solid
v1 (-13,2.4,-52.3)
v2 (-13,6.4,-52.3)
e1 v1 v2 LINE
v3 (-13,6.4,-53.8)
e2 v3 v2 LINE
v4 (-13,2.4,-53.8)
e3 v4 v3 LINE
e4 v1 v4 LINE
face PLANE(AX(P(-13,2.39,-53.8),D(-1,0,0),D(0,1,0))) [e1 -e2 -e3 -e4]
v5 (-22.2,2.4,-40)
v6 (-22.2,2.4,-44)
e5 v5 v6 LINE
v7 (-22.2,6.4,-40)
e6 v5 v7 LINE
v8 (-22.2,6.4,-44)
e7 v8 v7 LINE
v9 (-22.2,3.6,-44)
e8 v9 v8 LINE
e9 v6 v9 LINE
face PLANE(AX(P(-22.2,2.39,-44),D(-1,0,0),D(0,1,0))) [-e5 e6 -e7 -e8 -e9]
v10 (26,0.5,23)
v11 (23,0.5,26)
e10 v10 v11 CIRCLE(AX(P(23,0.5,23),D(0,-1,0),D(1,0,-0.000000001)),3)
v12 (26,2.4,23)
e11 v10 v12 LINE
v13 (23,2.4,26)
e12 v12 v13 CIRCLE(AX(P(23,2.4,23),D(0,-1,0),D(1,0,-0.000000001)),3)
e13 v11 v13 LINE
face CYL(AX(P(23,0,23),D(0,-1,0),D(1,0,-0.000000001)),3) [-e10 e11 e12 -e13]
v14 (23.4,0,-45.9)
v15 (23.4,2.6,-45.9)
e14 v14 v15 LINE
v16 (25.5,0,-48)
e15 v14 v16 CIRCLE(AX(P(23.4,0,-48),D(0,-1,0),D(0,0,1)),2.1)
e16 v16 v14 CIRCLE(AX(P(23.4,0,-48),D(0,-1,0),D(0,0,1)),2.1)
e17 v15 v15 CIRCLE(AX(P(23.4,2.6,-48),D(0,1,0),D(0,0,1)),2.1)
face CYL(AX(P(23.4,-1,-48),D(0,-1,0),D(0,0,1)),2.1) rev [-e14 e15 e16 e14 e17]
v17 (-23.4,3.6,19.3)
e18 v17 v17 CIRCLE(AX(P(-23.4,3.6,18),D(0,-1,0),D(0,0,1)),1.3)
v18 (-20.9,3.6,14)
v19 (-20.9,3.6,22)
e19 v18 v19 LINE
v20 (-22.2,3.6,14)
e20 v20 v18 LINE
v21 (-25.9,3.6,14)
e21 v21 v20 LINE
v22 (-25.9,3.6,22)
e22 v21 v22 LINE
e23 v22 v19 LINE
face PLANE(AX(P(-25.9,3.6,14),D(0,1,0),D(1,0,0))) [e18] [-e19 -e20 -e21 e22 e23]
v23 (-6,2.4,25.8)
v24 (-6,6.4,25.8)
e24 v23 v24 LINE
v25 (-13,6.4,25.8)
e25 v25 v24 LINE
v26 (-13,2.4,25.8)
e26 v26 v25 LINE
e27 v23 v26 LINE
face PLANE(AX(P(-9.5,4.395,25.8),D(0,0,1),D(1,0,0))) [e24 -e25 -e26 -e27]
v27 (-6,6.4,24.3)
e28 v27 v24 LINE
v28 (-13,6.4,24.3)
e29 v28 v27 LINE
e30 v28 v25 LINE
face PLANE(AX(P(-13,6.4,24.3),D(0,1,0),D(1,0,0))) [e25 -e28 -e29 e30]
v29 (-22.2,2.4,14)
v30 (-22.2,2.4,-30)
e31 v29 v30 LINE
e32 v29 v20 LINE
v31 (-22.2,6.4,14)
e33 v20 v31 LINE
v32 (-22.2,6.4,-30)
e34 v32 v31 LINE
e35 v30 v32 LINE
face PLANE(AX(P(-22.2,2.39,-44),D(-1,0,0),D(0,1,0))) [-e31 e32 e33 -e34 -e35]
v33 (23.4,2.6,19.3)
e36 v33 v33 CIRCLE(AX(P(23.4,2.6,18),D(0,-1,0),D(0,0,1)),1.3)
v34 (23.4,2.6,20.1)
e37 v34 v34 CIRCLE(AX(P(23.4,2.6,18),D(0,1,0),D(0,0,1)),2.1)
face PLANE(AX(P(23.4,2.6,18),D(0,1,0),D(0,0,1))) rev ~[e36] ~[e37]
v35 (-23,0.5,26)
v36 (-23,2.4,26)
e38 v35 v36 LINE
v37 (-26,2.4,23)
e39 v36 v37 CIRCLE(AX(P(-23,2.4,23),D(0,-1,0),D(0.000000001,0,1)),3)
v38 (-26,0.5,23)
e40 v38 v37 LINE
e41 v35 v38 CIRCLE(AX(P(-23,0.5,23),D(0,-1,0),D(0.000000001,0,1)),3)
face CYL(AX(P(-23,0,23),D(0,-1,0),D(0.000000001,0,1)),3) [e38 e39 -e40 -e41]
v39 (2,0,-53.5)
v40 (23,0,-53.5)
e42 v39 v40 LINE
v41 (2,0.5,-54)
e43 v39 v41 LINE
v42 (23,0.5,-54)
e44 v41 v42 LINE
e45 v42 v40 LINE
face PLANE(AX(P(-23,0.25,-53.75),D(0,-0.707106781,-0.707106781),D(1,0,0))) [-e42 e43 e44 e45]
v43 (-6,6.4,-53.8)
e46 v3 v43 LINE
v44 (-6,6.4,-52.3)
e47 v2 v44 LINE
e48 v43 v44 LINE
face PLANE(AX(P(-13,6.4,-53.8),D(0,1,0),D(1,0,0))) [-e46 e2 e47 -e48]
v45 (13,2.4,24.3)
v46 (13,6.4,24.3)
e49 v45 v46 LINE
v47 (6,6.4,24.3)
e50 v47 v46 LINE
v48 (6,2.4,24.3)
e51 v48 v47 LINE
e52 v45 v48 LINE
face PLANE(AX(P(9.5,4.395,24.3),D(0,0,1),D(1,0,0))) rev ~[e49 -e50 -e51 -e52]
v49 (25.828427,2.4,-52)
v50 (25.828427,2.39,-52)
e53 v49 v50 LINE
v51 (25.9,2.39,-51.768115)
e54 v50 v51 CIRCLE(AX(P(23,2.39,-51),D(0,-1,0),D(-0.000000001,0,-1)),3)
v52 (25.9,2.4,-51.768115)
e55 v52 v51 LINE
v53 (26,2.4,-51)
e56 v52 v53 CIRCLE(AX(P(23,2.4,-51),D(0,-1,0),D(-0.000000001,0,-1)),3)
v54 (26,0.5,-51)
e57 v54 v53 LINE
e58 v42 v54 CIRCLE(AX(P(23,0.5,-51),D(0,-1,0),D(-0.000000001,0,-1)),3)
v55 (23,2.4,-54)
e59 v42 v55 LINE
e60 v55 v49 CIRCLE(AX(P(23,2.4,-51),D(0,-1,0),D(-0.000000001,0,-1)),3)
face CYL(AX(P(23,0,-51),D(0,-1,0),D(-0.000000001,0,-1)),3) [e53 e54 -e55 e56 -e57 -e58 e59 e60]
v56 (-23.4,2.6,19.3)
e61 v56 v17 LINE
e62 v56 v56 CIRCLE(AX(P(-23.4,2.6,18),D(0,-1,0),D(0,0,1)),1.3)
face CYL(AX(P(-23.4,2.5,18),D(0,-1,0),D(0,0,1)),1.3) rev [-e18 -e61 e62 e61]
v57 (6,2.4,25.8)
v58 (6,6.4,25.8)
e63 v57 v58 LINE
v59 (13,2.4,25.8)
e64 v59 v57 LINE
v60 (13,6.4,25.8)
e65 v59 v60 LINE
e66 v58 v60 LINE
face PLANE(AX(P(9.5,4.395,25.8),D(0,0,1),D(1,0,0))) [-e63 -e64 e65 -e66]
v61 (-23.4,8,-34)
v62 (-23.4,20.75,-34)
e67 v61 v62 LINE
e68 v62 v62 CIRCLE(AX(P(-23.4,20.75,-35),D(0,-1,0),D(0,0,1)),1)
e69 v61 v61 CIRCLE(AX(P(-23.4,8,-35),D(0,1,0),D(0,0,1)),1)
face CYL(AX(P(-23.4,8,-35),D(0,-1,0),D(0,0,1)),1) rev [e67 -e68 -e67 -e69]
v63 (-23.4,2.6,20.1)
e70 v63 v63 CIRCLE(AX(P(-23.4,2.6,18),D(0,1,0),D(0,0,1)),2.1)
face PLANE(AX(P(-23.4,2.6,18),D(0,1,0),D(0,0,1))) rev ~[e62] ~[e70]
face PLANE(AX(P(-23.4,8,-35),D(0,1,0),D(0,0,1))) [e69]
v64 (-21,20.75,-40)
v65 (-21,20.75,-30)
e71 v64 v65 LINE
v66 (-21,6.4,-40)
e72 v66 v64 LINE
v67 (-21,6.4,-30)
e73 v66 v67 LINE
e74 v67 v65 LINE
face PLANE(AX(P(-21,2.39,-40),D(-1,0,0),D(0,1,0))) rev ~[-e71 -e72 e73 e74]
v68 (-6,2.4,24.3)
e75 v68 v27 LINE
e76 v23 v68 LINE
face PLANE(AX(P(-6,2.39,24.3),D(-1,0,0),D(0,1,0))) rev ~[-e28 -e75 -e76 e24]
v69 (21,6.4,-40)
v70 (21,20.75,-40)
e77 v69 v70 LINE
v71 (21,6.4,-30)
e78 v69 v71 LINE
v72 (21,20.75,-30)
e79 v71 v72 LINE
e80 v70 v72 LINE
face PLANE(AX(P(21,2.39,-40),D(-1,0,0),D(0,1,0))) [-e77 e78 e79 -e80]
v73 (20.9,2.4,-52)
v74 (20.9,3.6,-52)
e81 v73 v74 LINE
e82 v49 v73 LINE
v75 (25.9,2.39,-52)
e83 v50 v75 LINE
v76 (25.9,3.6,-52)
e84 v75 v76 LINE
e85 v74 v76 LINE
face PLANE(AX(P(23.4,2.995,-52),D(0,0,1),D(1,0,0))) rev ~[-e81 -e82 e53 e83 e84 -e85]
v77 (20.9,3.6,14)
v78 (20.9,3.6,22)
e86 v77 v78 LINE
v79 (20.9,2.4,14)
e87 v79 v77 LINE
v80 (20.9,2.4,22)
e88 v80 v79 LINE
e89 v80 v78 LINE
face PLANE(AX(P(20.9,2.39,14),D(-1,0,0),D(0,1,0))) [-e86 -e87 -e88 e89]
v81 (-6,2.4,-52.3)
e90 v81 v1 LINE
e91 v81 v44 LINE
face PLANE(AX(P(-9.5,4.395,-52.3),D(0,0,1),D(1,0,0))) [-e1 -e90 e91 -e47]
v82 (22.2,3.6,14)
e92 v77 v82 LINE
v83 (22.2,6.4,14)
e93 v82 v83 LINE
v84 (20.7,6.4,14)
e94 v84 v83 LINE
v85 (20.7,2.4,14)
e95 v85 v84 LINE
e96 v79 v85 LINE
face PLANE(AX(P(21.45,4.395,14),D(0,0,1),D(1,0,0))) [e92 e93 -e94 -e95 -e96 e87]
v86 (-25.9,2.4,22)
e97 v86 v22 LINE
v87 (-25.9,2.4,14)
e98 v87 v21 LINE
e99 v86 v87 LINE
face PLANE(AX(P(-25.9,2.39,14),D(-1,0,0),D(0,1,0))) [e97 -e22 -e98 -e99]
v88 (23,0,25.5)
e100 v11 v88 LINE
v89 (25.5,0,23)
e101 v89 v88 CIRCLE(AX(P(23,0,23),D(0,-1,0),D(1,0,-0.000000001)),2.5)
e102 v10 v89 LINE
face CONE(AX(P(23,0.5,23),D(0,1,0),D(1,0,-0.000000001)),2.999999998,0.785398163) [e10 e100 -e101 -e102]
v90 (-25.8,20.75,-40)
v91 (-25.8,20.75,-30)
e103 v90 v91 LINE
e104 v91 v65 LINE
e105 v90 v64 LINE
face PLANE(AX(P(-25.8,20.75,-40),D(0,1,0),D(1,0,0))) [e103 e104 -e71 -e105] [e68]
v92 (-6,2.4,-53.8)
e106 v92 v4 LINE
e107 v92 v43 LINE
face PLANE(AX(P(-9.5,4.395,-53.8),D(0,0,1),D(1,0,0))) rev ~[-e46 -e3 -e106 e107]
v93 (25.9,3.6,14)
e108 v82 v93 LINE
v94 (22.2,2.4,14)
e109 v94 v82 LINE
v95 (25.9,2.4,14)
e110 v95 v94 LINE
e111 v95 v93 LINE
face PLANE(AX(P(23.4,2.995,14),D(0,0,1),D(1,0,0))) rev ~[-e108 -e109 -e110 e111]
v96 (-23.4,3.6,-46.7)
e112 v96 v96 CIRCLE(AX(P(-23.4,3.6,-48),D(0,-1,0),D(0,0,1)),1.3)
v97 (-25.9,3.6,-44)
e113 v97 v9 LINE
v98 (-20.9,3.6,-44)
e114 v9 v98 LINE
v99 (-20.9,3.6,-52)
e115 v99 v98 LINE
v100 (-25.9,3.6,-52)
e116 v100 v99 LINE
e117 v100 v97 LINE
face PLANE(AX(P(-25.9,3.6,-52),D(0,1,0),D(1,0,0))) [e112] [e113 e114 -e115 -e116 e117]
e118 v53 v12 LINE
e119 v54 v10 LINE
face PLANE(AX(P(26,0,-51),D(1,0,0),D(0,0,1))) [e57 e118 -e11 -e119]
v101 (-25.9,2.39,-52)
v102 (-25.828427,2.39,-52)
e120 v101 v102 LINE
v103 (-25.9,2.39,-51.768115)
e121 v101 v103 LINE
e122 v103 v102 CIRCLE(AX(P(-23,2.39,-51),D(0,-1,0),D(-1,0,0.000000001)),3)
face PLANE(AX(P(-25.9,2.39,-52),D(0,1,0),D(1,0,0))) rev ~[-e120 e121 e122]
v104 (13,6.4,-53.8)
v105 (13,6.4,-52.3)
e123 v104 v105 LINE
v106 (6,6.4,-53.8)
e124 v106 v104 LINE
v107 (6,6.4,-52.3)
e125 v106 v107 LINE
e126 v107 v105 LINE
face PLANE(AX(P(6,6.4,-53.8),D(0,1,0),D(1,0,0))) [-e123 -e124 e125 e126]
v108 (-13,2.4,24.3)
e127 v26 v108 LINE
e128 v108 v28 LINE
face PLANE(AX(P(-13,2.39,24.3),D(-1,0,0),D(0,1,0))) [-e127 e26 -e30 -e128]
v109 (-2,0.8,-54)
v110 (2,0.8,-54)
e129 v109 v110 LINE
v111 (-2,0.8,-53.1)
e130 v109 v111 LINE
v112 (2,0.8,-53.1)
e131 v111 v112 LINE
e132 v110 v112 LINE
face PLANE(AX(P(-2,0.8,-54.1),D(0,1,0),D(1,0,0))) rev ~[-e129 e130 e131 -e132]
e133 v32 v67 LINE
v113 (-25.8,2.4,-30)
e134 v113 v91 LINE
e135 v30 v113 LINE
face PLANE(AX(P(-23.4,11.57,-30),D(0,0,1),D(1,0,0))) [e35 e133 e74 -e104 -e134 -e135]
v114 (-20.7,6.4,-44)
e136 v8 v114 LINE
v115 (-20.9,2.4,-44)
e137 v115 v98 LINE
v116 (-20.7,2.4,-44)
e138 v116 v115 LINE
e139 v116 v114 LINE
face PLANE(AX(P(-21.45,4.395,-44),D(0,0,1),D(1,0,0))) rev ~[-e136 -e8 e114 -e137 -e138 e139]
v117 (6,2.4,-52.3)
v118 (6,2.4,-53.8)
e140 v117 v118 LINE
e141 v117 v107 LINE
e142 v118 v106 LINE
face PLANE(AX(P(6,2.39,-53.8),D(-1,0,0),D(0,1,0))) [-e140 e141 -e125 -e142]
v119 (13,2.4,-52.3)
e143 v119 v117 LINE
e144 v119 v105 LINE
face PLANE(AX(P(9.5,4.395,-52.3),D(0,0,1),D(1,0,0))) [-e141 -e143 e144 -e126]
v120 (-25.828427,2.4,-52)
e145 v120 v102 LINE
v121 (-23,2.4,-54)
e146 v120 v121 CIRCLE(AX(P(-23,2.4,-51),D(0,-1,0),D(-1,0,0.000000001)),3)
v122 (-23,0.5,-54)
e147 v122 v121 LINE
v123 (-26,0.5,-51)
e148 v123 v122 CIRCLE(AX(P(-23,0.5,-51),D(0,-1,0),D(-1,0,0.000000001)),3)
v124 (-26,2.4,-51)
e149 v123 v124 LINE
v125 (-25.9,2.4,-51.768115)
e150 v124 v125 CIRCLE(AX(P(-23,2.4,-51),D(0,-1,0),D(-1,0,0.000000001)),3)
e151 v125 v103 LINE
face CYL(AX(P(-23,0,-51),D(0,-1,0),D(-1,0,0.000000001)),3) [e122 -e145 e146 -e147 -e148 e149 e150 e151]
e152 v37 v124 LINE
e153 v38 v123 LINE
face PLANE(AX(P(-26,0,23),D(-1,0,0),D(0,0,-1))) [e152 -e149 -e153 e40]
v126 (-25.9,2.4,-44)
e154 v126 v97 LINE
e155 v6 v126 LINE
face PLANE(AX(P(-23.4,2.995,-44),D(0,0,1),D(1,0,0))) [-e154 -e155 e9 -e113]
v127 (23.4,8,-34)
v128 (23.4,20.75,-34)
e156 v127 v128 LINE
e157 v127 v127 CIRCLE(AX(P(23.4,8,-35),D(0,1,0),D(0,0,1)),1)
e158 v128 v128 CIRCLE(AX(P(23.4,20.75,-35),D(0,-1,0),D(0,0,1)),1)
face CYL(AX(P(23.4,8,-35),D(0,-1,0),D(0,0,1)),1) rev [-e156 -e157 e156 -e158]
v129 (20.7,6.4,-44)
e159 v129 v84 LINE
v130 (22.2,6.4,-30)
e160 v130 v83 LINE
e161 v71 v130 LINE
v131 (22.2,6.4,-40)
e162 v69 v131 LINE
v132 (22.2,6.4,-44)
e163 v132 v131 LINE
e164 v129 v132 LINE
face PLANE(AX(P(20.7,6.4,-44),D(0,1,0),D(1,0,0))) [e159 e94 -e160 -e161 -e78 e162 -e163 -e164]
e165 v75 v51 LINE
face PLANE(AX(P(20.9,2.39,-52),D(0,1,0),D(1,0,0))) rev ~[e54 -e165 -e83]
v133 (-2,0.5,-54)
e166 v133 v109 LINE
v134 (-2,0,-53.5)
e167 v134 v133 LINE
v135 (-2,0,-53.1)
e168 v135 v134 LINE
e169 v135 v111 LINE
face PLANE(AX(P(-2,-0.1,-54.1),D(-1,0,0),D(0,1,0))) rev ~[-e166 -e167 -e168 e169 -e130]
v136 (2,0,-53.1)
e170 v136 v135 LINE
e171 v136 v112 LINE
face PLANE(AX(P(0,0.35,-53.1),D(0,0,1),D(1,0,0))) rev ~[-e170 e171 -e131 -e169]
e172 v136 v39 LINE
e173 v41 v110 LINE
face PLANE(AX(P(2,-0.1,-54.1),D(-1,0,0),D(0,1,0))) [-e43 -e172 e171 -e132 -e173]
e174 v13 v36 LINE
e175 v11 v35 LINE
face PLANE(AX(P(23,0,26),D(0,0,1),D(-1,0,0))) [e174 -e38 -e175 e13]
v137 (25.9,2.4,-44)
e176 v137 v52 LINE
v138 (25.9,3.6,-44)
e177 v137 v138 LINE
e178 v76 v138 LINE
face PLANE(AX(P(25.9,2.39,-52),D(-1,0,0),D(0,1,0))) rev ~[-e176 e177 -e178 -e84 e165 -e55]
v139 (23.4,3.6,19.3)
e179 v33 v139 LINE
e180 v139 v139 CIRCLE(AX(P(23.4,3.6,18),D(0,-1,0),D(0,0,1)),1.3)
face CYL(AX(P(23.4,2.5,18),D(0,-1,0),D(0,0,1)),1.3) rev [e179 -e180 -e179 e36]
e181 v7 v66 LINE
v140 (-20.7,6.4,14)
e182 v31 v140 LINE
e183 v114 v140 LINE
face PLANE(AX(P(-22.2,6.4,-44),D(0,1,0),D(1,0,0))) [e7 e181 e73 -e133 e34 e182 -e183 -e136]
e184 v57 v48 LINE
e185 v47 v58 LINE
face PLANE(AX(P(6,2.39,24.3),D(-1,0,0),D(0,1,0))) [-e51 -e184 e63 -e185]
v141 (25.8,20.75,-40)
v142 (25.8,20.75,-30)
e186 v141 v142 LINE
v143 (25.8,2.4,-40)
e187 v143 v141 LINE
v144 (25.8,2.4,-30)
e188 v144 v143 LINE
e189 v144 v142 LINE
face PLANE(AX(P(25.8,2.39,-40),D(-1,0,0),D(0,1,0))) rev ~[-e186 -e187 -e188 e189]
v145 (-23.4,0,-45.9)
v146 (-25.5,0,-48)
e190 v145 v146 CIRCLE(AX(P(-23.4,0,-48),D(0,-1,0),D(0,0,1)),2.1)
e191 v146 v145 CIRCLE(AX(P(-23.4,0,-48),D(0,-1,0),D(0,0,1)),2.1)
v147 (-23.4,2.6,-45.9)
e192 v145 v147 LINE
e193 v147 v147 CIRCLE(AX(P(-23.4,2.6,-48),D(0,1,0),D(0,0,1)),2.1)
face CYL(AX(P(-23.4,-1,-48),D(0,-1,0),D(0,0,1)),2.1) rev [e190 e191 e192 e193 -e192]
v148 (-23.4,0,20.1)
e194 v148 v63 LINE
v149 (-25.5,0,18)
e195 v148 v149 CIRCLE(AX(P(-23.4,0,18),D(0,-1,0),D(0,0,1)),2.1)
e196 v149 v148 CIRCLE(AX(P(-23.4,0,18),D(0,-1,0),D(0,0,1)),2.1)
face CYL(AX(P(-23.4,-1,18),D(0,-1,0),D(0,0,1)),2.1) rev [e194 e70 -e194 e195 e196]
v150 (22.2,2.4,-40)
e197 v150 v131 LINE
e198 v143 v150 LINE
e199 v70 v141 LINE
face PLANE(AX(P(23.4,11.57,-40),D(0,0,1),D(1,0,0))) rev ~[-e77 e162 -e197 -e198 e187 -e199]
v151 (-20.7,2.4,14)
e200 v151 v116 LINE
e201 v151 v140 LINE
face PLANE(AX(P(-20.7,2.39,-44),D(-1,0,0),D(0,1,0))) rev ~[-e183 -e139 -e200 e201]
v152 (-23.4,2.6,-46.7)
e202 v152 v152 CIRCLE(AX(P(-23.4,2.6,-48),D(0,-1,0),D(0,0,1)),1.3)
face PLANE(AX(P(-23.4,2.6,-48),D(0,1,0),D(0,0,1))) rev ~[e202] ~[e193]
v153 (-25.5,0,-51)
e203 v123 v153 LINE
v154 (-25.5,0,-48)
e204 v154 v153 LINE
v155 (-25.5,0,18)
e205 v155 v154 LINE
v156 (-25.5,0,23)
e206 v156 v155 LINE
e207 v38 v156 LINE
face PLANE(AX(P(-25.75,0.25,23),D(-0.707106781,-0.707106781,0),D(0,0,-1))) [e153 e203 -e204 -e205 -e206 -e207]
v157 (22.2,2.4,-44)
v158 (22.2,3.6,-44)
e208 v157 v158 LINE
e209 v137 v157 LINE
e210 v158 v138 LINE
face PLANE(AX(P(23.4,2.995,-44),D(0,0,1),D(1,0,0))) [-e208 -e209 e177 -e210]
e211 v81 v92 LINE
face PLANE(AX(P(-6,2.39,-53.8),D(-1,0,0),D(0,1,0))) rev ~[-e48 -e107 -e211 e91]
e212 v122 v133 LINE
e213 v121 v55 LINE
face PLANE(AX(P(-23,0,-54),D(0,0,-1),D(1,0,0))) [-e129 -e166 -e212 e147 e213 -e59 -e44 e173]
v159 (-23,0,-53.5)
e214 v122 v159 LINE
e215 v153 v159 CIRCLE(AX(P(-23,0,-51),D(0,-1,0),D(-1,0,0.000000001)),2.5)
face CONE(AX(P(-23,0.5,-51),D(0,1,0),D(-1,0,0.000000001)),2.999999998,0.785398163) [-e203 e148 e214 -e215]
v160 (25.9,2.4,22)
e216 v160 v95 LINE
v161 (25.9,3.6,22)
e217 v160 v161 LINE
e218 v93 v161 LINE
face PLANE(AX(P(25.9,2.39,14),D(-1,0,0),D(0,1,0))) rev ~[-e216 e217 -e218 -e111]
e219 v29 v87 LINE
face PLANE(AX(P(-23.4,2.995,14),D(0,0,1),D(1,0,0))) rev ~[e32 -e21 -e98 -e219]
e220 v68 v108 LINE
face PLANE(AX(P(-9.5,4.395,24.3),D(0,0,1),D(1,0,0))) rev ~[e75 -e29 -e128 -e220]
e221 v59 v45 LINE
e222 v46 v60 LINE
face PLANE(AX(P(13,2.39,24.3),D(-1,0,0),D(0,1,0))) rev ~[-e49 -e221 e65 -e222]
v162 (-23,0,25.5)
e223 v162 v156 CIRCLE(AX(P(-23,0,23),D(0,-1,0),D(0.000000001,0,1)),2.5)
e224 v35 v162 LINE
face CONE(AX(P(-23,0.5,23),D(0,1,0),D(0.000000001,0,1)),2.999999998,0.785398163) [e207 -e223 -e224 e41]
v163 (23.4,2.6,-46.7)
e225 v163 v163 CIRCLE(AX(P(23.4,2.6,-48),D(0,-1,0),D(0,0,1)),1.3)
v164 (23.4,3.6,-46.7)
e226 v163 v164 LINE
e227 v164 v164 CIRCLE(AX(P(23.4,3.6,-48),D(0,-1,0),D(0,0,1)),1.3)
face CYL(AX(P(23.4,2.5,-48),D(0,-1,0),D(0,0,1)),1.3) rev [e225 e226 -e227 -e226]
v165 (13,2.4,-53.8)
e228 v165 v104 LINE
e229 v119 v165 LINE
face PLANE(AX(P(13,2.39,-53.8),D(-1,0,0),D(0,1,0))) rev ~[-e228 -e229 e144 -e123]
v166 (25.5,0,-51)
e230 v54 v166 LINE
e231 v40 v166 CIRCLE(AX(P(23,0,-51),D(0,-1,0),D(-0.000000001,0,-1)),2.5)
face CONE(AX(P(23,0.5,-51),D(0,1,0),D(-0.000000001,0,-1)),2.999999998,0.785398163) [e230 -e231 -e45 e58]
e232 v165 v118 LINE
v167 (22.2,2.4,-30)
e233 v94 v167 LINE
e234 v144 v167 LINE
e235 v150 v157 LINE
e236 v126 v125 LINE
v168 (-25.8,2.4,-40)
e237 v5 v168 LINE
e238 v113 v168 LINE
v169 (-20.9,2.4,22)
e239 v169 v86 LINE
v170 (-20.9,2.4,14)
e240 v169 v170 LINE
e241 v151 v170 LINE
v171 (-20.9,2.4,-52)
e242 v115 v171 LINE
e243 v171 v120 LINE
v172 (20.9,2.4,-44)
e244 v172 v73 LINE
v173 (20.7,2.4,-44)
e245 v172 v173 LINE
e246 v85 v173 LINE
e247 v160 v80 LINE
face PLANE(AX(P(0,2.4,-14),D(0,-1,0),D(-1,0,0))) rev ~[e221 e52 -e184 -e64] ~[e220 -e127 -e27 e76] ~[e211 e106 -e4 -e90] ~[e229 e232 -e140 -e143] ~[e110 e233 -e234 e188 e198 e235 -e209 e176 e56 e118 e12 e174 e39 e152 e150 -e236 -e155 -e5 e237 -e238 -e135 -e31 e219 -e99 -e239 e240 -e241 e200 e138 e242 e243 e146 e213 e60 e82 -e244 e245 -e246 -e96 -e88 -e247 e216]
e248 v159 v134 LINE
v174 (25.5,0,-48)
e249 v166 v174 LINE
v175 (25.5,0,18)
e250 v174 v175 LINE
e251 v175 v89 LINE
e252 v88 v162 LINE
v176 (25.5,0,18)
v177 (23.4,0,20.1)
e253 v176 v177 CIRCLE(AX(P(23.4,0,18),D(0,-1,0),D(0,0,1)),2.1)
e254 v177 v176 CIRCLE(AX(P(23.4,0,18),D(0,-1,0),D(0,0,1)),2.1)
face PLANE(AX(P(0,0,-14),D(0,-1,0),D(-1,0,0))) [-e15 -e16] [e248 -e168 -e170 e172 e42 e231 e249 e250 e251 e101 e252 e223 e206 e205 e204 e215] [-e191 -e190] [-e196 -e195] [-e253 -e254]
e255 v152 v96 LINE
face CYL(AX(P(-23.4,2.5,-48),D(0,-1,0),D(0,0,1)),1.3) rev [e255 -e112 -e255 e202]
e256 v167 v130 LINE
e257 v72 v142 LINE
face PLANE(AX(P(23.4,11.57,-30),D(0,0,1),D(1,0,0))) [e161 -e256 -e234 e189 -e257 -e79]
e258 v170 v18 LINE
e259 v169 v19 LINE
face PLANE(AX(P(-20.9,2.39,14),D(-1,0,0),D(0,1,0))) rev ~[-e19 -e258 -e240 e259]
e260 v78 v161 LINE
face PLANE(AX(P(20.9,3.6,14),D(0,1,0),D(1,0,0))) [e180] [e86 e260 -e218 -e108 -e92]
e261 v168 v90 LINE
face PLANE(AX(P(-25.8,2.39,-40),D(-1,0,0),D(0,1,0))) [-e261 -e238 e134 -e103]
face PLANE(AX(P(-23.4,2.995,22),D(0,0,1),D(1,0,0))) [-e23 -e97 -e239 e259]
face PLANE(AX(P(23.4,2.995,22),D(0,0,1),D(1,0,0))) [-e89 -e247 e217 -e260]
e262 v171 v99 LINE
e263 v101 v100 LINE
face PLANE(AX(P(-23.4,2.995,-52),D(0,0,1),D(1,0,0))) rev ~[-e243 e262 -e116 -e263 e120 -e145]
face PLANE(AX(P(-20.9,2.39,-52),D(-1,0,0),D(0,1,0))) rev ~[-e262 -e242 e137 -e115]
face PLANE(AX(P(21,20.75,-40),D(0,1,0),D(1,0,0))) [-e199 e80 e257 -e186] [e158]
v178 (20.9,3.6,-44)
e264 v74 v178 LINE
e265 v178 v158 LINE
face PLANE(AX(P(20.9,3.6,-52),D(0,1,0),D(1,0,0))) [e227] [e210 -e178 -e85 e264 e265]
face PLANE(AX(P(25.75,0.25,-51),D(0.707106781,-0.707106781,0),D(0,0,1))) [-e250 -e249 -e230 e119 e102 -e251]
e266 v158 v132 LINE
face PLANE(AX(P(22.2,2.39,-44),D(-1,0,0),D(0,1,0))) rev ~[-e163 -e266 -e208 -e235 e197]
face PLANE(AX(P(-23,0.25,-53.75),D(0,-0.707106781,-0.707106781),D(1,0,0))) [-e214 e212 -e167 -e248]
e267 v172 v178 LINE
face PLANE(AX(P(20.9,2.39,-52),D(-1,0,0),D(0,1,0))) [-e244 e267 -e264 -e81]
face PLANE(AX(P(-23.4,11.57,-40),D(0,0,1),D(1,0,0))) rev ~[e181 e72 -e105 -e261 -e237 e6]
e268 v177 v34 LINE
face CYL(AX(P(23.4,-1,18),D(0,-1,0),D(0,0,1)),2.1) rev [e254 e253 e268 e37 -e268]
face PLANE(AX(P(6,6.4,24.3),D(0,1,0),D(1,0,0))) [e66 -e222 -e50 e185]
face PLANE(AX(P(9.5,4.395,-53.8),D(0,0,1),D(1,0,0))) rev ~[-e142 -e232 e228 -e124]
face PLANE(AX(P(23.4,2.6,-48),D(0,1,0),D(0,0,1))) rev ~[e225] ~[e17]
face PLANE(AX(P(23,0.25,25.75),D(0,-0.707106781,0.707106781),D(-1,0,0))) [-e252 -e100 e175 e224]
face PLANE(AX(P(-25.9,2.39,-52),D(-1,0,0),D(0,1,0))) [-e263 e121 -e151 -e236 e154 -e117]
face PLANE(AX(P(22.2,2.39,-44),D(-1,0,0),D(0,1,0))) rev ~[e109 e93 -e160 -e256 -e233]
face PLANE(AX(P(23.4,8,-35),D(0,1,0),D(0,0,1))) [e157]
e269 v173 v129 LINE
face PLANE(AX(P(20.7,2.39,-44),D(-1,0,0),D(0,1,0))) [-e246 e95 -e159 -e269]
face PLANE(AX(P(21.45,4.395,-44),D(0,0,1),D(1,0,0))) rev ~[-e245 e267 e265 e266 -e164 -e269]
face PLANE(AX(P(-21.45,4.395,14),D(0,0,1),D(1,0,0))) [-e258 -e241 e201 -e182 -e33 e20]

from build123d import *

# Parameters (mm, degrees)
BOSS_EXTRUDE1_DEPTH  = 2.4
CHAMFER1_SIZE        = 0.5
BOSS_EXTRUDE2_START  = -52
SKETCH2_W            = 5
SKETCH2_H            = 1.21
BOSS_EXTRUDE2_DEPTH  = 8
BOSS_EXTRUDE3_START  = 14
SKETCH3_W            = 5
SKETCH3_H            = 1.21
BOSS_EXTRUDE3_DEPTH  = 8
BOSS_EXTRUDE4_START  = -52
SKETCH4_W            = 5
SKETCH4_H            = 1.21
BOSS_EXTRUDE4_DEPTH  = 8
BOSS_EXTRUDE5_START  = 14
SKETCH5_W            = 5
SKETCH5_H            = 1.21
BOSS_EXTRUDE5_DEPTH  = 8
BOSS_EXTRUDE6_START  = -44
SKETCH6_W            = 1.5
SKETCH6_H            = 4.01
BOSS_EXTRUDE6_DEPTH  = 58
BOSS_EXTRUDE7_START  = -40
SKETCH7_W            = 4.8
SKETCH7_H            = 18.36
BOSS_EXTRUDE7_DEPTH  = 10
BOSS_EXTRUDE8_START  = 8
SKETCH8_R            = 1
BOSS_EXTRUDE8_DEPTH  = 13.75
BOSS_EXTRUDE9_START  = -53.8
SKETCH9_W            = 7
SKETCH9_H            = 4.01
BOSS_EXTRUDE9_DEPTH  = 1.5
BOSS_EXTRUDE10_START = 24.3
SKETCH10_W           = 7
SKETCH10_H           = 4.01
BOSS_EXTRUDE10_DEPTH = 1.5
BOSS_EXTRUDE11_START = -44
SKETCH11_W           = 1.5
SKETCH11_H           = 4.01
BOSS_EXTRUDE11_DEPTH = 58
BOSS_EXTRUDE12_START = -40
SKETCH12_W           = 4.8
SKETCH12_H           = 18.36
BOSS_EXTRUDE12_DEPTH = 10
BOSS_EXTRUDE13_START = 8
SKETCH13_R           = 1
BOSS_EXTRUDE13_DEPTH = 13.75
BOSS_EXTRUDE14_START = -53.8
SKETCH14_W           = 7
SKETCH14_H           = 4.01
BOSS_EXTRUDE14_DEPTH = 1.5
BOSS_EXTRUDE15_START = 24.3
SKETCH15_W           = 7
SKETCH15_H           = 4.01
BOSS_EXTRUDE15_DEPTH = 1.5
BOSS_EXTRUDE16_START = -1
SKETCH16_R           = 2.1
BOSS_EXTRUDE16_DEPTH = 3.6
BOSS_EXTRUDE17_START = 2.5
SKETCH17_R           = 1.3
BOSS_EXTRUDE17_DEPTH = 1.2
BOSS_EXTRUDE18_START = -1
SKETCH18_R           = 2.1
BOSS_EXTRUDE18_DEPTH = 3.6
BOSS_EXTRUDE19_START = 2.5
SKETCH19_R           = 1.3
BOSS_EXTRUDE19_DEPTH = 1.2
BOSS_EXTRUDE20_START = -1
SKETCH20_R           = 2.1
BOSS_EXTRUDE20_DEPTH = 3.6
BOSS_EXTRUDE21_START = 2.5
SKETCH21_R           = 1.3
BOSS_EXTRUDE21_DEPTH = 1.2
BOSS_EXTRUDE22_START = -1
SKETCH22_R           = 2.1
BOSS_EXTRUDE22_DEPTH = 3.6
BOSS_EXTRUDE23_START = 2.5
SKETCH23_R           = 1.3
BOSS_EXTRUDE23_DEPTH = 1.2
BOSS_EXTRUDE24_START = -54.1
SKETCH24_W           = 4
SKETCH24_H           = 0.9
BOSS_EXTRUDE24_DEPTH = 1


with BuildPart() as part:
    # Sketch1 → Boss-Extrude1 (new body)
    with BuildSketch(Plane(origin=(0, 0, 0), x_dir=(1, 0, 0), z_dir=(0, 1, 0))):
        with BuildLine():
            Line((-23, 54), (23, 54))
            ThreePointArc((23, 54), (25.121320344, 53.121320344), (26, 51))
            Line((26, 51), (26, -23))
            ThreePointArc((26, -23), (25.121320344, -25.121320344), (23, -26))
            Line((23, -26), (-23, -26))
            ThreePointArc((-23, -26), (-25.121320344, -25.121320344), (-26, -23))
            Line((-26, -23), (-26, 51))
            ThreePointArc((-26, 51), (-25.121320344, 53.121320344), (-23, 54))
        make_face()
    extrude(amount=BOSS_EXTRUDE1_DEPTH)

    # Chamfer1
    chamfer1_edges = [part.edges().sort_by_distance(p)[0] for p in [
        (0, 0, 26),
        (-25.121320344, 0, 25.121320344),
        (-26, 0, -14),
        (-25.121320344, 0, -53.121320344),
        (0, 0, -54),
        (25.121320344, 0, -53.121320344),
        (26, 0, -14),
        (25.121320344, 0, 25.121320344),
    ]]
    chamfer(chamfer1_edges, length=CHAMFER1_SIZE)

    # Sketch2 → Boss-Extrude2 (add)
    with BuildSketch(Plane.XY.offset(BOSS_EXTRUDE2_START)):
        with Locations((-23.4, 2.995)):
            Rectangle(SKETCH2_W, SKETCH2_H)
    extrude(amount=BOSS_EXTRUDE2_DEPTH)

    # Sketch3 → Boss-Extrude3 (add)
    with BuildSketch(Plane.XY.offset(BOSS_EXTRUDE3_START)):
        with Locations((-23.4, 2.995)):
            Rectangle(SKETCH3_W, SKETCH3_H)
    extrude(amount=BOSS_EXTRUDE3_DEPTH)

    # Sketch4 → Boss-Extrude4 (add)
    with BuildSketch(Plane.XY.offset(BOSS_EXTRUDE4_START)):
        with Locations((23.4, 2.995)):
            Rectangle(SKETCH4_W, SKETCH4_H)
    extrude(amount=BOSS_EXTRUDE4_DEPTH)

    # Sketch5 → Boss-Extrude5 (add)
    with BuildSketch(Plane.XY.offset(BOSS_EXTRUDE5_START)):
        with Locations((23.4, 2.995)):
            Rectangle(SKETCH5_W, SKETCH5_H)
    extrude(amount=BOSS_EXTRUDE5_DEPTH)

    # Sketch6 → Boss-Extrude6 (add)
    with BuildSketch(Plane.XY.offset(BOSS_EXTRUDE6_START)):
        with Locations((-21.45, 4.395)):
            Rectangle(SKETCH6_W, SKETCH6_H)
    extrude(amount=BOSS_EXTRUDE6_DEPTH)

    # Sketch7 → Boss-Extrude7 (add)
    with BuildSketch(Plane.XY.offset(BOSS_EXTRUDE7_START)):
        with Locations((-23.4, 11.57)):
            Rectangle(SKETCH7_W, SKETCH7_H)
    extrude(amount=BOSS_EXTRUDE7_DEPTH)


with BuildPart() as body_2:
    # Sketch8 → Boss-Extrude8 (new body)
    with BuildSketch(Plane(origin=(0, 0, 0), x_dir=(1, 0, 0), z_dir=(0, 1, 0)).offset(BOSS_EXTRUDE8_START)):
        with Locations(Location((-23.4, 35, 0), (0, 0, 270))):
            Circle(SKETCH8_R)
    extrude(amount=BOSS_EXTRUDE8_DEPTH)


with BuildPart() as part_1:
    add(part.part)

    # Combine1: cut body 2
    add(body_2.part, mode=Mode.SUBTRACT)

    # Sketch9 → Boss-Extrude9 (add)
    with BuildSketch(Plane.XY.offset(BOSS_EXTRUDE9_START)):
        with Locations((-9.5, 4.395)):
            Rectangle(SKETCH9_W, SKETCH9_H)
    extrude(amount=BOSS_EXTRUDE9_DEPTH)

    # Sketch10 → Boss-Extrude10 (add)
    with BuildSketch(Plane.XY.offset(BOSS_EXTRUDE10_START)):
        with Locations((-9.5, 4.395)):
            Rectangle(SKETCH10_W, SKETCH10_H)
    extrude(amount=BOSS_EXTRUDE10_DEPTH)

    # Sketch11 → Boss-Extrude11 (add)
    with BuildSketch(Plane.XY.offset(BOSS_EXTRUDE11_START)):
        with Locations((21.45, 4.395)):
            Rectangle(SKETCH11_W, SKETCH11_H)
    extrude(amount=BOSS_EXTRUDE11_DEPTH)

    # Sketch12 → Boss-Extrude12 (add)
    with BuildSketch(Plane.XY.offset(BOSS_EXTRUDE12_START)):
        with Locations((23.4, 11.57)):
            Rectangle(SKETCH12_W, SKETCH12_H)
    extrude(amount=BOSS_EXTRUDE12_DEPTH)


with BuildPart() as body_2_2:
    # Sketch13 → Boss-Extrude13 (new body)
    with BuildSketch(Plane(origin=(0, 0, 0), x_dir=(1, 0, 0), z_dir=(0, 1, 0)).offset(BOSS_EXTRUDE13_START)):
        with Locations(Location((23.4, 35, 0), (0, 0, 270))):
            Circle(SKETCH13_R)
    extrude(amount=BOSS_EXTRUDE13_DEPTH)


with BuildPart() as part_2:
    add(part_1.part)

    # Combine2: cut body 2 2
    add(body_2_2.part, mode=Mode.SUBTRACT)

    # Sketch14 → Boss-Extrude14 (add)
    with BuildSketch(Plane.XY.offset(BOSS_EXTRUDE14_START)):
        with Locations((9.5, 4.395)):
            Rectangle(SKETCH14_W, SKETCH14_H)
    extrude(amount=BOSS_EXTRUDE14_DEPTH)

    # Sketch15 → Boss-Extrude15 (add)
    with BuildSketch(Plane.XY.offset(BOSS_EXTRUDE15_START)):
        with Locations((9.5, 4.395)):
            Rectangle(SKETCH15_W, SKETCH15_H)
    extrude(amount=BOSS_EXTRUDE15_DEPTH)


with BuildPart() as body_2_3:
    # Sketch16 → Boss-Extrude16 (new body)
    with BuildSketch(Plane(origin=(0, 0, 0), x_dir=(1, 0, 0), z_dir=(0, 1, 0)).offset(BOSS_EXTRUDE16_START)):
        with Locations(Location((-23.4, 48, 0), (0, 0, 270))):
            Circle(SKETCH16_R)
    extrude(amount=BOSS_EXTRUDE16_DEPTH)


with BuildPart() as part_3:
    add(part_2.part)

    # Combine3: cut body 2 3
    add(body_2_3.part, mode=Mode.SUBTRACT)


with BuildPart() as body_2_4:
    # Sketch17 → Boss-Extrude17 (new body)
    with BuildSketch(Plane(origin=(0, 0, 0), x_dir=(1, 0, 0), z_dir=(0, 1, 0)).offset(BOSS_EXTRUDE17_START)):
        with Locations(Location((-23.4, 48, 0), (0, 0, 270))):
            Circle(SKETCH17_R)
    extrude(amount=BOSS_EXTRUDE17_DEPTH)


with BuildPart() as part_4:
    add(part_3.part)

    # Combine4: cut body 2 4
    add(body_2_4.part, mode=Mode.SUBTRACT)


with BuildPart() as body_2_5:
    # Sketch18 → Boss-Extrude18 (new body)
    with BuildSketch(Plane(origin=(0, 0, 0), x_dir=(1, 0, 0), z_dir=(0, 1, 0)).offset(BOSS_EXTRUDE18_START)):
        with Locations(Location((-23.4, -18, 0), (0, 0, 270))):
            Circle(SKETCH18_R)
    extrude(amount=BOSS_EXTRUDE18_DEPTH)


with BuildPart() as part_5:
    add(part_4.part)

    # Combine5: cut body 2 5
    add(body_2_5.part, mode=Mode.SUBTRACT)


with BuildPart() as body_2_6:
    # Sketch19 → Boss-Extrude19 (new body)
    with BuildSketch(Plane(origin=(0, 0, 0), x_dir=(1, 0, 0), z_dir=(0, 1, 0)).offset(BOSS_EXTRUDE19_START)):
        with Locations(Location((-23.4, -18, 0), (0, 0, 270))):
            Circle(SKETCH19_R)
    extrude(amount=BOSS_EXTRUDE19_DEPTH)


with BuildPart() as part_6:
    add(part_5.part)

    # Combine6: cut body 2 6
    add(body_2_6.part, mode=Mode.SUBTRACT)


with BuildPart() as body_2_7:
    # Sketch20 → Boss-Extrude20 (new body)
    with BuildSketch(Plane(origin=(0, 0, 0), x_dir=(1, 0, 0), z_dir=(0, 1, 0)).offset(BOSS_EXTRUDE20_START)):
        with Locations(Location((23.4, 48, 0), (0, 0, 270))):
            Circle(SKETCH20_R)
    extrude(amount=BOSS_EXTRUDE20_DEPTH)


with BuildPart() as part_7:
    add(part_6.part)

    # Combine7: cut body 2 7
    add(body_2_7.part, mode=Mode.SUBTRACT)


with BuildPart() as body_2_8:
    # Sketch21 → Boss-Extrude21 (new body)
    with BuildSketch(Plane(origin=(0, 0, 0), x_dir=(1, 0, 0), z_dir=(0, 1, 0)).offset(BOSS_EXTRUDE21_START)):
        with Locations(Location((23.4, 48, 0), (0, 0, 270))):
            Circle(SKETCH21_R)
    extrude(amount=BOSS_EXTRUDE21_DEPTH)


with BuildPart() as part_8:
    add(part_7.part)

    # Combine8: cut body 2 8
    add(body_2_8.part, mode=Mode.SUBTRACT)


with BuildPart() as body_2_9:
    # Sketch22 → Boss-Extrude22 (new body)
    with BuildSketch(Plane(origin=(0, 0, 0), x_dir=(1, 0, 0), z_dir=(0, 1, 0)).offset(BOSS_EXTRUDE22_START)):
        with Locations(Location((23.4, -18, 0), (0, 0, 270))):
            Circle(SKETCH22_R)
    extrude(amount=BOSS_EXTRUDE22_DEPTH)


with BuildPart() as part_9:
    add(part_8.part)

    # Combine9: cut body 2 9
    add(body_2_9.part, mode=Mode.SUBTRACT)


with BuildPart() as body_2_10:
    # Sketch23 → Boss-Extrude23 (new body)
    with BuildSketch(Plane(origin=(0, 0, 0), x_dir=(1, 0, 0), z_dir=(0, 1, 0)).offset(BOSS_EXTRUDE23_START)):
        with Locations(Location((23.4, -18, 0), (0, 0, 270))):
            Circle(SKETCH23_R)
    extrude(amount=BOSS_EXTRUDE23_DEPTH)


with BuildPart() as part_10:
    add(part_9.part)

    # Combine10: cut body 2 10
    add(body_2_10.part, mode=Mode.SUBTRACT)


with BuildPart() as body_2_11:
    # Sketch24 → Boss-Extrude24 (new body)
    with BuildSketch(Plane.XY.offset(BOSS_EXTRUDE24_START)):
        with Locations((0, 0.35)):
            Rectangle(SKETCH24_W, SKETCH24_H)
    extrude(amount=BOSS_EXTRUDE24_DEPTH)


with BuildPart() as part_11:
    add(part_10.part)

    # Combine11: cut body 2 11
    add(body_2_11.part, mode=Mode.SUBTRACT)


solid = part_11.part
